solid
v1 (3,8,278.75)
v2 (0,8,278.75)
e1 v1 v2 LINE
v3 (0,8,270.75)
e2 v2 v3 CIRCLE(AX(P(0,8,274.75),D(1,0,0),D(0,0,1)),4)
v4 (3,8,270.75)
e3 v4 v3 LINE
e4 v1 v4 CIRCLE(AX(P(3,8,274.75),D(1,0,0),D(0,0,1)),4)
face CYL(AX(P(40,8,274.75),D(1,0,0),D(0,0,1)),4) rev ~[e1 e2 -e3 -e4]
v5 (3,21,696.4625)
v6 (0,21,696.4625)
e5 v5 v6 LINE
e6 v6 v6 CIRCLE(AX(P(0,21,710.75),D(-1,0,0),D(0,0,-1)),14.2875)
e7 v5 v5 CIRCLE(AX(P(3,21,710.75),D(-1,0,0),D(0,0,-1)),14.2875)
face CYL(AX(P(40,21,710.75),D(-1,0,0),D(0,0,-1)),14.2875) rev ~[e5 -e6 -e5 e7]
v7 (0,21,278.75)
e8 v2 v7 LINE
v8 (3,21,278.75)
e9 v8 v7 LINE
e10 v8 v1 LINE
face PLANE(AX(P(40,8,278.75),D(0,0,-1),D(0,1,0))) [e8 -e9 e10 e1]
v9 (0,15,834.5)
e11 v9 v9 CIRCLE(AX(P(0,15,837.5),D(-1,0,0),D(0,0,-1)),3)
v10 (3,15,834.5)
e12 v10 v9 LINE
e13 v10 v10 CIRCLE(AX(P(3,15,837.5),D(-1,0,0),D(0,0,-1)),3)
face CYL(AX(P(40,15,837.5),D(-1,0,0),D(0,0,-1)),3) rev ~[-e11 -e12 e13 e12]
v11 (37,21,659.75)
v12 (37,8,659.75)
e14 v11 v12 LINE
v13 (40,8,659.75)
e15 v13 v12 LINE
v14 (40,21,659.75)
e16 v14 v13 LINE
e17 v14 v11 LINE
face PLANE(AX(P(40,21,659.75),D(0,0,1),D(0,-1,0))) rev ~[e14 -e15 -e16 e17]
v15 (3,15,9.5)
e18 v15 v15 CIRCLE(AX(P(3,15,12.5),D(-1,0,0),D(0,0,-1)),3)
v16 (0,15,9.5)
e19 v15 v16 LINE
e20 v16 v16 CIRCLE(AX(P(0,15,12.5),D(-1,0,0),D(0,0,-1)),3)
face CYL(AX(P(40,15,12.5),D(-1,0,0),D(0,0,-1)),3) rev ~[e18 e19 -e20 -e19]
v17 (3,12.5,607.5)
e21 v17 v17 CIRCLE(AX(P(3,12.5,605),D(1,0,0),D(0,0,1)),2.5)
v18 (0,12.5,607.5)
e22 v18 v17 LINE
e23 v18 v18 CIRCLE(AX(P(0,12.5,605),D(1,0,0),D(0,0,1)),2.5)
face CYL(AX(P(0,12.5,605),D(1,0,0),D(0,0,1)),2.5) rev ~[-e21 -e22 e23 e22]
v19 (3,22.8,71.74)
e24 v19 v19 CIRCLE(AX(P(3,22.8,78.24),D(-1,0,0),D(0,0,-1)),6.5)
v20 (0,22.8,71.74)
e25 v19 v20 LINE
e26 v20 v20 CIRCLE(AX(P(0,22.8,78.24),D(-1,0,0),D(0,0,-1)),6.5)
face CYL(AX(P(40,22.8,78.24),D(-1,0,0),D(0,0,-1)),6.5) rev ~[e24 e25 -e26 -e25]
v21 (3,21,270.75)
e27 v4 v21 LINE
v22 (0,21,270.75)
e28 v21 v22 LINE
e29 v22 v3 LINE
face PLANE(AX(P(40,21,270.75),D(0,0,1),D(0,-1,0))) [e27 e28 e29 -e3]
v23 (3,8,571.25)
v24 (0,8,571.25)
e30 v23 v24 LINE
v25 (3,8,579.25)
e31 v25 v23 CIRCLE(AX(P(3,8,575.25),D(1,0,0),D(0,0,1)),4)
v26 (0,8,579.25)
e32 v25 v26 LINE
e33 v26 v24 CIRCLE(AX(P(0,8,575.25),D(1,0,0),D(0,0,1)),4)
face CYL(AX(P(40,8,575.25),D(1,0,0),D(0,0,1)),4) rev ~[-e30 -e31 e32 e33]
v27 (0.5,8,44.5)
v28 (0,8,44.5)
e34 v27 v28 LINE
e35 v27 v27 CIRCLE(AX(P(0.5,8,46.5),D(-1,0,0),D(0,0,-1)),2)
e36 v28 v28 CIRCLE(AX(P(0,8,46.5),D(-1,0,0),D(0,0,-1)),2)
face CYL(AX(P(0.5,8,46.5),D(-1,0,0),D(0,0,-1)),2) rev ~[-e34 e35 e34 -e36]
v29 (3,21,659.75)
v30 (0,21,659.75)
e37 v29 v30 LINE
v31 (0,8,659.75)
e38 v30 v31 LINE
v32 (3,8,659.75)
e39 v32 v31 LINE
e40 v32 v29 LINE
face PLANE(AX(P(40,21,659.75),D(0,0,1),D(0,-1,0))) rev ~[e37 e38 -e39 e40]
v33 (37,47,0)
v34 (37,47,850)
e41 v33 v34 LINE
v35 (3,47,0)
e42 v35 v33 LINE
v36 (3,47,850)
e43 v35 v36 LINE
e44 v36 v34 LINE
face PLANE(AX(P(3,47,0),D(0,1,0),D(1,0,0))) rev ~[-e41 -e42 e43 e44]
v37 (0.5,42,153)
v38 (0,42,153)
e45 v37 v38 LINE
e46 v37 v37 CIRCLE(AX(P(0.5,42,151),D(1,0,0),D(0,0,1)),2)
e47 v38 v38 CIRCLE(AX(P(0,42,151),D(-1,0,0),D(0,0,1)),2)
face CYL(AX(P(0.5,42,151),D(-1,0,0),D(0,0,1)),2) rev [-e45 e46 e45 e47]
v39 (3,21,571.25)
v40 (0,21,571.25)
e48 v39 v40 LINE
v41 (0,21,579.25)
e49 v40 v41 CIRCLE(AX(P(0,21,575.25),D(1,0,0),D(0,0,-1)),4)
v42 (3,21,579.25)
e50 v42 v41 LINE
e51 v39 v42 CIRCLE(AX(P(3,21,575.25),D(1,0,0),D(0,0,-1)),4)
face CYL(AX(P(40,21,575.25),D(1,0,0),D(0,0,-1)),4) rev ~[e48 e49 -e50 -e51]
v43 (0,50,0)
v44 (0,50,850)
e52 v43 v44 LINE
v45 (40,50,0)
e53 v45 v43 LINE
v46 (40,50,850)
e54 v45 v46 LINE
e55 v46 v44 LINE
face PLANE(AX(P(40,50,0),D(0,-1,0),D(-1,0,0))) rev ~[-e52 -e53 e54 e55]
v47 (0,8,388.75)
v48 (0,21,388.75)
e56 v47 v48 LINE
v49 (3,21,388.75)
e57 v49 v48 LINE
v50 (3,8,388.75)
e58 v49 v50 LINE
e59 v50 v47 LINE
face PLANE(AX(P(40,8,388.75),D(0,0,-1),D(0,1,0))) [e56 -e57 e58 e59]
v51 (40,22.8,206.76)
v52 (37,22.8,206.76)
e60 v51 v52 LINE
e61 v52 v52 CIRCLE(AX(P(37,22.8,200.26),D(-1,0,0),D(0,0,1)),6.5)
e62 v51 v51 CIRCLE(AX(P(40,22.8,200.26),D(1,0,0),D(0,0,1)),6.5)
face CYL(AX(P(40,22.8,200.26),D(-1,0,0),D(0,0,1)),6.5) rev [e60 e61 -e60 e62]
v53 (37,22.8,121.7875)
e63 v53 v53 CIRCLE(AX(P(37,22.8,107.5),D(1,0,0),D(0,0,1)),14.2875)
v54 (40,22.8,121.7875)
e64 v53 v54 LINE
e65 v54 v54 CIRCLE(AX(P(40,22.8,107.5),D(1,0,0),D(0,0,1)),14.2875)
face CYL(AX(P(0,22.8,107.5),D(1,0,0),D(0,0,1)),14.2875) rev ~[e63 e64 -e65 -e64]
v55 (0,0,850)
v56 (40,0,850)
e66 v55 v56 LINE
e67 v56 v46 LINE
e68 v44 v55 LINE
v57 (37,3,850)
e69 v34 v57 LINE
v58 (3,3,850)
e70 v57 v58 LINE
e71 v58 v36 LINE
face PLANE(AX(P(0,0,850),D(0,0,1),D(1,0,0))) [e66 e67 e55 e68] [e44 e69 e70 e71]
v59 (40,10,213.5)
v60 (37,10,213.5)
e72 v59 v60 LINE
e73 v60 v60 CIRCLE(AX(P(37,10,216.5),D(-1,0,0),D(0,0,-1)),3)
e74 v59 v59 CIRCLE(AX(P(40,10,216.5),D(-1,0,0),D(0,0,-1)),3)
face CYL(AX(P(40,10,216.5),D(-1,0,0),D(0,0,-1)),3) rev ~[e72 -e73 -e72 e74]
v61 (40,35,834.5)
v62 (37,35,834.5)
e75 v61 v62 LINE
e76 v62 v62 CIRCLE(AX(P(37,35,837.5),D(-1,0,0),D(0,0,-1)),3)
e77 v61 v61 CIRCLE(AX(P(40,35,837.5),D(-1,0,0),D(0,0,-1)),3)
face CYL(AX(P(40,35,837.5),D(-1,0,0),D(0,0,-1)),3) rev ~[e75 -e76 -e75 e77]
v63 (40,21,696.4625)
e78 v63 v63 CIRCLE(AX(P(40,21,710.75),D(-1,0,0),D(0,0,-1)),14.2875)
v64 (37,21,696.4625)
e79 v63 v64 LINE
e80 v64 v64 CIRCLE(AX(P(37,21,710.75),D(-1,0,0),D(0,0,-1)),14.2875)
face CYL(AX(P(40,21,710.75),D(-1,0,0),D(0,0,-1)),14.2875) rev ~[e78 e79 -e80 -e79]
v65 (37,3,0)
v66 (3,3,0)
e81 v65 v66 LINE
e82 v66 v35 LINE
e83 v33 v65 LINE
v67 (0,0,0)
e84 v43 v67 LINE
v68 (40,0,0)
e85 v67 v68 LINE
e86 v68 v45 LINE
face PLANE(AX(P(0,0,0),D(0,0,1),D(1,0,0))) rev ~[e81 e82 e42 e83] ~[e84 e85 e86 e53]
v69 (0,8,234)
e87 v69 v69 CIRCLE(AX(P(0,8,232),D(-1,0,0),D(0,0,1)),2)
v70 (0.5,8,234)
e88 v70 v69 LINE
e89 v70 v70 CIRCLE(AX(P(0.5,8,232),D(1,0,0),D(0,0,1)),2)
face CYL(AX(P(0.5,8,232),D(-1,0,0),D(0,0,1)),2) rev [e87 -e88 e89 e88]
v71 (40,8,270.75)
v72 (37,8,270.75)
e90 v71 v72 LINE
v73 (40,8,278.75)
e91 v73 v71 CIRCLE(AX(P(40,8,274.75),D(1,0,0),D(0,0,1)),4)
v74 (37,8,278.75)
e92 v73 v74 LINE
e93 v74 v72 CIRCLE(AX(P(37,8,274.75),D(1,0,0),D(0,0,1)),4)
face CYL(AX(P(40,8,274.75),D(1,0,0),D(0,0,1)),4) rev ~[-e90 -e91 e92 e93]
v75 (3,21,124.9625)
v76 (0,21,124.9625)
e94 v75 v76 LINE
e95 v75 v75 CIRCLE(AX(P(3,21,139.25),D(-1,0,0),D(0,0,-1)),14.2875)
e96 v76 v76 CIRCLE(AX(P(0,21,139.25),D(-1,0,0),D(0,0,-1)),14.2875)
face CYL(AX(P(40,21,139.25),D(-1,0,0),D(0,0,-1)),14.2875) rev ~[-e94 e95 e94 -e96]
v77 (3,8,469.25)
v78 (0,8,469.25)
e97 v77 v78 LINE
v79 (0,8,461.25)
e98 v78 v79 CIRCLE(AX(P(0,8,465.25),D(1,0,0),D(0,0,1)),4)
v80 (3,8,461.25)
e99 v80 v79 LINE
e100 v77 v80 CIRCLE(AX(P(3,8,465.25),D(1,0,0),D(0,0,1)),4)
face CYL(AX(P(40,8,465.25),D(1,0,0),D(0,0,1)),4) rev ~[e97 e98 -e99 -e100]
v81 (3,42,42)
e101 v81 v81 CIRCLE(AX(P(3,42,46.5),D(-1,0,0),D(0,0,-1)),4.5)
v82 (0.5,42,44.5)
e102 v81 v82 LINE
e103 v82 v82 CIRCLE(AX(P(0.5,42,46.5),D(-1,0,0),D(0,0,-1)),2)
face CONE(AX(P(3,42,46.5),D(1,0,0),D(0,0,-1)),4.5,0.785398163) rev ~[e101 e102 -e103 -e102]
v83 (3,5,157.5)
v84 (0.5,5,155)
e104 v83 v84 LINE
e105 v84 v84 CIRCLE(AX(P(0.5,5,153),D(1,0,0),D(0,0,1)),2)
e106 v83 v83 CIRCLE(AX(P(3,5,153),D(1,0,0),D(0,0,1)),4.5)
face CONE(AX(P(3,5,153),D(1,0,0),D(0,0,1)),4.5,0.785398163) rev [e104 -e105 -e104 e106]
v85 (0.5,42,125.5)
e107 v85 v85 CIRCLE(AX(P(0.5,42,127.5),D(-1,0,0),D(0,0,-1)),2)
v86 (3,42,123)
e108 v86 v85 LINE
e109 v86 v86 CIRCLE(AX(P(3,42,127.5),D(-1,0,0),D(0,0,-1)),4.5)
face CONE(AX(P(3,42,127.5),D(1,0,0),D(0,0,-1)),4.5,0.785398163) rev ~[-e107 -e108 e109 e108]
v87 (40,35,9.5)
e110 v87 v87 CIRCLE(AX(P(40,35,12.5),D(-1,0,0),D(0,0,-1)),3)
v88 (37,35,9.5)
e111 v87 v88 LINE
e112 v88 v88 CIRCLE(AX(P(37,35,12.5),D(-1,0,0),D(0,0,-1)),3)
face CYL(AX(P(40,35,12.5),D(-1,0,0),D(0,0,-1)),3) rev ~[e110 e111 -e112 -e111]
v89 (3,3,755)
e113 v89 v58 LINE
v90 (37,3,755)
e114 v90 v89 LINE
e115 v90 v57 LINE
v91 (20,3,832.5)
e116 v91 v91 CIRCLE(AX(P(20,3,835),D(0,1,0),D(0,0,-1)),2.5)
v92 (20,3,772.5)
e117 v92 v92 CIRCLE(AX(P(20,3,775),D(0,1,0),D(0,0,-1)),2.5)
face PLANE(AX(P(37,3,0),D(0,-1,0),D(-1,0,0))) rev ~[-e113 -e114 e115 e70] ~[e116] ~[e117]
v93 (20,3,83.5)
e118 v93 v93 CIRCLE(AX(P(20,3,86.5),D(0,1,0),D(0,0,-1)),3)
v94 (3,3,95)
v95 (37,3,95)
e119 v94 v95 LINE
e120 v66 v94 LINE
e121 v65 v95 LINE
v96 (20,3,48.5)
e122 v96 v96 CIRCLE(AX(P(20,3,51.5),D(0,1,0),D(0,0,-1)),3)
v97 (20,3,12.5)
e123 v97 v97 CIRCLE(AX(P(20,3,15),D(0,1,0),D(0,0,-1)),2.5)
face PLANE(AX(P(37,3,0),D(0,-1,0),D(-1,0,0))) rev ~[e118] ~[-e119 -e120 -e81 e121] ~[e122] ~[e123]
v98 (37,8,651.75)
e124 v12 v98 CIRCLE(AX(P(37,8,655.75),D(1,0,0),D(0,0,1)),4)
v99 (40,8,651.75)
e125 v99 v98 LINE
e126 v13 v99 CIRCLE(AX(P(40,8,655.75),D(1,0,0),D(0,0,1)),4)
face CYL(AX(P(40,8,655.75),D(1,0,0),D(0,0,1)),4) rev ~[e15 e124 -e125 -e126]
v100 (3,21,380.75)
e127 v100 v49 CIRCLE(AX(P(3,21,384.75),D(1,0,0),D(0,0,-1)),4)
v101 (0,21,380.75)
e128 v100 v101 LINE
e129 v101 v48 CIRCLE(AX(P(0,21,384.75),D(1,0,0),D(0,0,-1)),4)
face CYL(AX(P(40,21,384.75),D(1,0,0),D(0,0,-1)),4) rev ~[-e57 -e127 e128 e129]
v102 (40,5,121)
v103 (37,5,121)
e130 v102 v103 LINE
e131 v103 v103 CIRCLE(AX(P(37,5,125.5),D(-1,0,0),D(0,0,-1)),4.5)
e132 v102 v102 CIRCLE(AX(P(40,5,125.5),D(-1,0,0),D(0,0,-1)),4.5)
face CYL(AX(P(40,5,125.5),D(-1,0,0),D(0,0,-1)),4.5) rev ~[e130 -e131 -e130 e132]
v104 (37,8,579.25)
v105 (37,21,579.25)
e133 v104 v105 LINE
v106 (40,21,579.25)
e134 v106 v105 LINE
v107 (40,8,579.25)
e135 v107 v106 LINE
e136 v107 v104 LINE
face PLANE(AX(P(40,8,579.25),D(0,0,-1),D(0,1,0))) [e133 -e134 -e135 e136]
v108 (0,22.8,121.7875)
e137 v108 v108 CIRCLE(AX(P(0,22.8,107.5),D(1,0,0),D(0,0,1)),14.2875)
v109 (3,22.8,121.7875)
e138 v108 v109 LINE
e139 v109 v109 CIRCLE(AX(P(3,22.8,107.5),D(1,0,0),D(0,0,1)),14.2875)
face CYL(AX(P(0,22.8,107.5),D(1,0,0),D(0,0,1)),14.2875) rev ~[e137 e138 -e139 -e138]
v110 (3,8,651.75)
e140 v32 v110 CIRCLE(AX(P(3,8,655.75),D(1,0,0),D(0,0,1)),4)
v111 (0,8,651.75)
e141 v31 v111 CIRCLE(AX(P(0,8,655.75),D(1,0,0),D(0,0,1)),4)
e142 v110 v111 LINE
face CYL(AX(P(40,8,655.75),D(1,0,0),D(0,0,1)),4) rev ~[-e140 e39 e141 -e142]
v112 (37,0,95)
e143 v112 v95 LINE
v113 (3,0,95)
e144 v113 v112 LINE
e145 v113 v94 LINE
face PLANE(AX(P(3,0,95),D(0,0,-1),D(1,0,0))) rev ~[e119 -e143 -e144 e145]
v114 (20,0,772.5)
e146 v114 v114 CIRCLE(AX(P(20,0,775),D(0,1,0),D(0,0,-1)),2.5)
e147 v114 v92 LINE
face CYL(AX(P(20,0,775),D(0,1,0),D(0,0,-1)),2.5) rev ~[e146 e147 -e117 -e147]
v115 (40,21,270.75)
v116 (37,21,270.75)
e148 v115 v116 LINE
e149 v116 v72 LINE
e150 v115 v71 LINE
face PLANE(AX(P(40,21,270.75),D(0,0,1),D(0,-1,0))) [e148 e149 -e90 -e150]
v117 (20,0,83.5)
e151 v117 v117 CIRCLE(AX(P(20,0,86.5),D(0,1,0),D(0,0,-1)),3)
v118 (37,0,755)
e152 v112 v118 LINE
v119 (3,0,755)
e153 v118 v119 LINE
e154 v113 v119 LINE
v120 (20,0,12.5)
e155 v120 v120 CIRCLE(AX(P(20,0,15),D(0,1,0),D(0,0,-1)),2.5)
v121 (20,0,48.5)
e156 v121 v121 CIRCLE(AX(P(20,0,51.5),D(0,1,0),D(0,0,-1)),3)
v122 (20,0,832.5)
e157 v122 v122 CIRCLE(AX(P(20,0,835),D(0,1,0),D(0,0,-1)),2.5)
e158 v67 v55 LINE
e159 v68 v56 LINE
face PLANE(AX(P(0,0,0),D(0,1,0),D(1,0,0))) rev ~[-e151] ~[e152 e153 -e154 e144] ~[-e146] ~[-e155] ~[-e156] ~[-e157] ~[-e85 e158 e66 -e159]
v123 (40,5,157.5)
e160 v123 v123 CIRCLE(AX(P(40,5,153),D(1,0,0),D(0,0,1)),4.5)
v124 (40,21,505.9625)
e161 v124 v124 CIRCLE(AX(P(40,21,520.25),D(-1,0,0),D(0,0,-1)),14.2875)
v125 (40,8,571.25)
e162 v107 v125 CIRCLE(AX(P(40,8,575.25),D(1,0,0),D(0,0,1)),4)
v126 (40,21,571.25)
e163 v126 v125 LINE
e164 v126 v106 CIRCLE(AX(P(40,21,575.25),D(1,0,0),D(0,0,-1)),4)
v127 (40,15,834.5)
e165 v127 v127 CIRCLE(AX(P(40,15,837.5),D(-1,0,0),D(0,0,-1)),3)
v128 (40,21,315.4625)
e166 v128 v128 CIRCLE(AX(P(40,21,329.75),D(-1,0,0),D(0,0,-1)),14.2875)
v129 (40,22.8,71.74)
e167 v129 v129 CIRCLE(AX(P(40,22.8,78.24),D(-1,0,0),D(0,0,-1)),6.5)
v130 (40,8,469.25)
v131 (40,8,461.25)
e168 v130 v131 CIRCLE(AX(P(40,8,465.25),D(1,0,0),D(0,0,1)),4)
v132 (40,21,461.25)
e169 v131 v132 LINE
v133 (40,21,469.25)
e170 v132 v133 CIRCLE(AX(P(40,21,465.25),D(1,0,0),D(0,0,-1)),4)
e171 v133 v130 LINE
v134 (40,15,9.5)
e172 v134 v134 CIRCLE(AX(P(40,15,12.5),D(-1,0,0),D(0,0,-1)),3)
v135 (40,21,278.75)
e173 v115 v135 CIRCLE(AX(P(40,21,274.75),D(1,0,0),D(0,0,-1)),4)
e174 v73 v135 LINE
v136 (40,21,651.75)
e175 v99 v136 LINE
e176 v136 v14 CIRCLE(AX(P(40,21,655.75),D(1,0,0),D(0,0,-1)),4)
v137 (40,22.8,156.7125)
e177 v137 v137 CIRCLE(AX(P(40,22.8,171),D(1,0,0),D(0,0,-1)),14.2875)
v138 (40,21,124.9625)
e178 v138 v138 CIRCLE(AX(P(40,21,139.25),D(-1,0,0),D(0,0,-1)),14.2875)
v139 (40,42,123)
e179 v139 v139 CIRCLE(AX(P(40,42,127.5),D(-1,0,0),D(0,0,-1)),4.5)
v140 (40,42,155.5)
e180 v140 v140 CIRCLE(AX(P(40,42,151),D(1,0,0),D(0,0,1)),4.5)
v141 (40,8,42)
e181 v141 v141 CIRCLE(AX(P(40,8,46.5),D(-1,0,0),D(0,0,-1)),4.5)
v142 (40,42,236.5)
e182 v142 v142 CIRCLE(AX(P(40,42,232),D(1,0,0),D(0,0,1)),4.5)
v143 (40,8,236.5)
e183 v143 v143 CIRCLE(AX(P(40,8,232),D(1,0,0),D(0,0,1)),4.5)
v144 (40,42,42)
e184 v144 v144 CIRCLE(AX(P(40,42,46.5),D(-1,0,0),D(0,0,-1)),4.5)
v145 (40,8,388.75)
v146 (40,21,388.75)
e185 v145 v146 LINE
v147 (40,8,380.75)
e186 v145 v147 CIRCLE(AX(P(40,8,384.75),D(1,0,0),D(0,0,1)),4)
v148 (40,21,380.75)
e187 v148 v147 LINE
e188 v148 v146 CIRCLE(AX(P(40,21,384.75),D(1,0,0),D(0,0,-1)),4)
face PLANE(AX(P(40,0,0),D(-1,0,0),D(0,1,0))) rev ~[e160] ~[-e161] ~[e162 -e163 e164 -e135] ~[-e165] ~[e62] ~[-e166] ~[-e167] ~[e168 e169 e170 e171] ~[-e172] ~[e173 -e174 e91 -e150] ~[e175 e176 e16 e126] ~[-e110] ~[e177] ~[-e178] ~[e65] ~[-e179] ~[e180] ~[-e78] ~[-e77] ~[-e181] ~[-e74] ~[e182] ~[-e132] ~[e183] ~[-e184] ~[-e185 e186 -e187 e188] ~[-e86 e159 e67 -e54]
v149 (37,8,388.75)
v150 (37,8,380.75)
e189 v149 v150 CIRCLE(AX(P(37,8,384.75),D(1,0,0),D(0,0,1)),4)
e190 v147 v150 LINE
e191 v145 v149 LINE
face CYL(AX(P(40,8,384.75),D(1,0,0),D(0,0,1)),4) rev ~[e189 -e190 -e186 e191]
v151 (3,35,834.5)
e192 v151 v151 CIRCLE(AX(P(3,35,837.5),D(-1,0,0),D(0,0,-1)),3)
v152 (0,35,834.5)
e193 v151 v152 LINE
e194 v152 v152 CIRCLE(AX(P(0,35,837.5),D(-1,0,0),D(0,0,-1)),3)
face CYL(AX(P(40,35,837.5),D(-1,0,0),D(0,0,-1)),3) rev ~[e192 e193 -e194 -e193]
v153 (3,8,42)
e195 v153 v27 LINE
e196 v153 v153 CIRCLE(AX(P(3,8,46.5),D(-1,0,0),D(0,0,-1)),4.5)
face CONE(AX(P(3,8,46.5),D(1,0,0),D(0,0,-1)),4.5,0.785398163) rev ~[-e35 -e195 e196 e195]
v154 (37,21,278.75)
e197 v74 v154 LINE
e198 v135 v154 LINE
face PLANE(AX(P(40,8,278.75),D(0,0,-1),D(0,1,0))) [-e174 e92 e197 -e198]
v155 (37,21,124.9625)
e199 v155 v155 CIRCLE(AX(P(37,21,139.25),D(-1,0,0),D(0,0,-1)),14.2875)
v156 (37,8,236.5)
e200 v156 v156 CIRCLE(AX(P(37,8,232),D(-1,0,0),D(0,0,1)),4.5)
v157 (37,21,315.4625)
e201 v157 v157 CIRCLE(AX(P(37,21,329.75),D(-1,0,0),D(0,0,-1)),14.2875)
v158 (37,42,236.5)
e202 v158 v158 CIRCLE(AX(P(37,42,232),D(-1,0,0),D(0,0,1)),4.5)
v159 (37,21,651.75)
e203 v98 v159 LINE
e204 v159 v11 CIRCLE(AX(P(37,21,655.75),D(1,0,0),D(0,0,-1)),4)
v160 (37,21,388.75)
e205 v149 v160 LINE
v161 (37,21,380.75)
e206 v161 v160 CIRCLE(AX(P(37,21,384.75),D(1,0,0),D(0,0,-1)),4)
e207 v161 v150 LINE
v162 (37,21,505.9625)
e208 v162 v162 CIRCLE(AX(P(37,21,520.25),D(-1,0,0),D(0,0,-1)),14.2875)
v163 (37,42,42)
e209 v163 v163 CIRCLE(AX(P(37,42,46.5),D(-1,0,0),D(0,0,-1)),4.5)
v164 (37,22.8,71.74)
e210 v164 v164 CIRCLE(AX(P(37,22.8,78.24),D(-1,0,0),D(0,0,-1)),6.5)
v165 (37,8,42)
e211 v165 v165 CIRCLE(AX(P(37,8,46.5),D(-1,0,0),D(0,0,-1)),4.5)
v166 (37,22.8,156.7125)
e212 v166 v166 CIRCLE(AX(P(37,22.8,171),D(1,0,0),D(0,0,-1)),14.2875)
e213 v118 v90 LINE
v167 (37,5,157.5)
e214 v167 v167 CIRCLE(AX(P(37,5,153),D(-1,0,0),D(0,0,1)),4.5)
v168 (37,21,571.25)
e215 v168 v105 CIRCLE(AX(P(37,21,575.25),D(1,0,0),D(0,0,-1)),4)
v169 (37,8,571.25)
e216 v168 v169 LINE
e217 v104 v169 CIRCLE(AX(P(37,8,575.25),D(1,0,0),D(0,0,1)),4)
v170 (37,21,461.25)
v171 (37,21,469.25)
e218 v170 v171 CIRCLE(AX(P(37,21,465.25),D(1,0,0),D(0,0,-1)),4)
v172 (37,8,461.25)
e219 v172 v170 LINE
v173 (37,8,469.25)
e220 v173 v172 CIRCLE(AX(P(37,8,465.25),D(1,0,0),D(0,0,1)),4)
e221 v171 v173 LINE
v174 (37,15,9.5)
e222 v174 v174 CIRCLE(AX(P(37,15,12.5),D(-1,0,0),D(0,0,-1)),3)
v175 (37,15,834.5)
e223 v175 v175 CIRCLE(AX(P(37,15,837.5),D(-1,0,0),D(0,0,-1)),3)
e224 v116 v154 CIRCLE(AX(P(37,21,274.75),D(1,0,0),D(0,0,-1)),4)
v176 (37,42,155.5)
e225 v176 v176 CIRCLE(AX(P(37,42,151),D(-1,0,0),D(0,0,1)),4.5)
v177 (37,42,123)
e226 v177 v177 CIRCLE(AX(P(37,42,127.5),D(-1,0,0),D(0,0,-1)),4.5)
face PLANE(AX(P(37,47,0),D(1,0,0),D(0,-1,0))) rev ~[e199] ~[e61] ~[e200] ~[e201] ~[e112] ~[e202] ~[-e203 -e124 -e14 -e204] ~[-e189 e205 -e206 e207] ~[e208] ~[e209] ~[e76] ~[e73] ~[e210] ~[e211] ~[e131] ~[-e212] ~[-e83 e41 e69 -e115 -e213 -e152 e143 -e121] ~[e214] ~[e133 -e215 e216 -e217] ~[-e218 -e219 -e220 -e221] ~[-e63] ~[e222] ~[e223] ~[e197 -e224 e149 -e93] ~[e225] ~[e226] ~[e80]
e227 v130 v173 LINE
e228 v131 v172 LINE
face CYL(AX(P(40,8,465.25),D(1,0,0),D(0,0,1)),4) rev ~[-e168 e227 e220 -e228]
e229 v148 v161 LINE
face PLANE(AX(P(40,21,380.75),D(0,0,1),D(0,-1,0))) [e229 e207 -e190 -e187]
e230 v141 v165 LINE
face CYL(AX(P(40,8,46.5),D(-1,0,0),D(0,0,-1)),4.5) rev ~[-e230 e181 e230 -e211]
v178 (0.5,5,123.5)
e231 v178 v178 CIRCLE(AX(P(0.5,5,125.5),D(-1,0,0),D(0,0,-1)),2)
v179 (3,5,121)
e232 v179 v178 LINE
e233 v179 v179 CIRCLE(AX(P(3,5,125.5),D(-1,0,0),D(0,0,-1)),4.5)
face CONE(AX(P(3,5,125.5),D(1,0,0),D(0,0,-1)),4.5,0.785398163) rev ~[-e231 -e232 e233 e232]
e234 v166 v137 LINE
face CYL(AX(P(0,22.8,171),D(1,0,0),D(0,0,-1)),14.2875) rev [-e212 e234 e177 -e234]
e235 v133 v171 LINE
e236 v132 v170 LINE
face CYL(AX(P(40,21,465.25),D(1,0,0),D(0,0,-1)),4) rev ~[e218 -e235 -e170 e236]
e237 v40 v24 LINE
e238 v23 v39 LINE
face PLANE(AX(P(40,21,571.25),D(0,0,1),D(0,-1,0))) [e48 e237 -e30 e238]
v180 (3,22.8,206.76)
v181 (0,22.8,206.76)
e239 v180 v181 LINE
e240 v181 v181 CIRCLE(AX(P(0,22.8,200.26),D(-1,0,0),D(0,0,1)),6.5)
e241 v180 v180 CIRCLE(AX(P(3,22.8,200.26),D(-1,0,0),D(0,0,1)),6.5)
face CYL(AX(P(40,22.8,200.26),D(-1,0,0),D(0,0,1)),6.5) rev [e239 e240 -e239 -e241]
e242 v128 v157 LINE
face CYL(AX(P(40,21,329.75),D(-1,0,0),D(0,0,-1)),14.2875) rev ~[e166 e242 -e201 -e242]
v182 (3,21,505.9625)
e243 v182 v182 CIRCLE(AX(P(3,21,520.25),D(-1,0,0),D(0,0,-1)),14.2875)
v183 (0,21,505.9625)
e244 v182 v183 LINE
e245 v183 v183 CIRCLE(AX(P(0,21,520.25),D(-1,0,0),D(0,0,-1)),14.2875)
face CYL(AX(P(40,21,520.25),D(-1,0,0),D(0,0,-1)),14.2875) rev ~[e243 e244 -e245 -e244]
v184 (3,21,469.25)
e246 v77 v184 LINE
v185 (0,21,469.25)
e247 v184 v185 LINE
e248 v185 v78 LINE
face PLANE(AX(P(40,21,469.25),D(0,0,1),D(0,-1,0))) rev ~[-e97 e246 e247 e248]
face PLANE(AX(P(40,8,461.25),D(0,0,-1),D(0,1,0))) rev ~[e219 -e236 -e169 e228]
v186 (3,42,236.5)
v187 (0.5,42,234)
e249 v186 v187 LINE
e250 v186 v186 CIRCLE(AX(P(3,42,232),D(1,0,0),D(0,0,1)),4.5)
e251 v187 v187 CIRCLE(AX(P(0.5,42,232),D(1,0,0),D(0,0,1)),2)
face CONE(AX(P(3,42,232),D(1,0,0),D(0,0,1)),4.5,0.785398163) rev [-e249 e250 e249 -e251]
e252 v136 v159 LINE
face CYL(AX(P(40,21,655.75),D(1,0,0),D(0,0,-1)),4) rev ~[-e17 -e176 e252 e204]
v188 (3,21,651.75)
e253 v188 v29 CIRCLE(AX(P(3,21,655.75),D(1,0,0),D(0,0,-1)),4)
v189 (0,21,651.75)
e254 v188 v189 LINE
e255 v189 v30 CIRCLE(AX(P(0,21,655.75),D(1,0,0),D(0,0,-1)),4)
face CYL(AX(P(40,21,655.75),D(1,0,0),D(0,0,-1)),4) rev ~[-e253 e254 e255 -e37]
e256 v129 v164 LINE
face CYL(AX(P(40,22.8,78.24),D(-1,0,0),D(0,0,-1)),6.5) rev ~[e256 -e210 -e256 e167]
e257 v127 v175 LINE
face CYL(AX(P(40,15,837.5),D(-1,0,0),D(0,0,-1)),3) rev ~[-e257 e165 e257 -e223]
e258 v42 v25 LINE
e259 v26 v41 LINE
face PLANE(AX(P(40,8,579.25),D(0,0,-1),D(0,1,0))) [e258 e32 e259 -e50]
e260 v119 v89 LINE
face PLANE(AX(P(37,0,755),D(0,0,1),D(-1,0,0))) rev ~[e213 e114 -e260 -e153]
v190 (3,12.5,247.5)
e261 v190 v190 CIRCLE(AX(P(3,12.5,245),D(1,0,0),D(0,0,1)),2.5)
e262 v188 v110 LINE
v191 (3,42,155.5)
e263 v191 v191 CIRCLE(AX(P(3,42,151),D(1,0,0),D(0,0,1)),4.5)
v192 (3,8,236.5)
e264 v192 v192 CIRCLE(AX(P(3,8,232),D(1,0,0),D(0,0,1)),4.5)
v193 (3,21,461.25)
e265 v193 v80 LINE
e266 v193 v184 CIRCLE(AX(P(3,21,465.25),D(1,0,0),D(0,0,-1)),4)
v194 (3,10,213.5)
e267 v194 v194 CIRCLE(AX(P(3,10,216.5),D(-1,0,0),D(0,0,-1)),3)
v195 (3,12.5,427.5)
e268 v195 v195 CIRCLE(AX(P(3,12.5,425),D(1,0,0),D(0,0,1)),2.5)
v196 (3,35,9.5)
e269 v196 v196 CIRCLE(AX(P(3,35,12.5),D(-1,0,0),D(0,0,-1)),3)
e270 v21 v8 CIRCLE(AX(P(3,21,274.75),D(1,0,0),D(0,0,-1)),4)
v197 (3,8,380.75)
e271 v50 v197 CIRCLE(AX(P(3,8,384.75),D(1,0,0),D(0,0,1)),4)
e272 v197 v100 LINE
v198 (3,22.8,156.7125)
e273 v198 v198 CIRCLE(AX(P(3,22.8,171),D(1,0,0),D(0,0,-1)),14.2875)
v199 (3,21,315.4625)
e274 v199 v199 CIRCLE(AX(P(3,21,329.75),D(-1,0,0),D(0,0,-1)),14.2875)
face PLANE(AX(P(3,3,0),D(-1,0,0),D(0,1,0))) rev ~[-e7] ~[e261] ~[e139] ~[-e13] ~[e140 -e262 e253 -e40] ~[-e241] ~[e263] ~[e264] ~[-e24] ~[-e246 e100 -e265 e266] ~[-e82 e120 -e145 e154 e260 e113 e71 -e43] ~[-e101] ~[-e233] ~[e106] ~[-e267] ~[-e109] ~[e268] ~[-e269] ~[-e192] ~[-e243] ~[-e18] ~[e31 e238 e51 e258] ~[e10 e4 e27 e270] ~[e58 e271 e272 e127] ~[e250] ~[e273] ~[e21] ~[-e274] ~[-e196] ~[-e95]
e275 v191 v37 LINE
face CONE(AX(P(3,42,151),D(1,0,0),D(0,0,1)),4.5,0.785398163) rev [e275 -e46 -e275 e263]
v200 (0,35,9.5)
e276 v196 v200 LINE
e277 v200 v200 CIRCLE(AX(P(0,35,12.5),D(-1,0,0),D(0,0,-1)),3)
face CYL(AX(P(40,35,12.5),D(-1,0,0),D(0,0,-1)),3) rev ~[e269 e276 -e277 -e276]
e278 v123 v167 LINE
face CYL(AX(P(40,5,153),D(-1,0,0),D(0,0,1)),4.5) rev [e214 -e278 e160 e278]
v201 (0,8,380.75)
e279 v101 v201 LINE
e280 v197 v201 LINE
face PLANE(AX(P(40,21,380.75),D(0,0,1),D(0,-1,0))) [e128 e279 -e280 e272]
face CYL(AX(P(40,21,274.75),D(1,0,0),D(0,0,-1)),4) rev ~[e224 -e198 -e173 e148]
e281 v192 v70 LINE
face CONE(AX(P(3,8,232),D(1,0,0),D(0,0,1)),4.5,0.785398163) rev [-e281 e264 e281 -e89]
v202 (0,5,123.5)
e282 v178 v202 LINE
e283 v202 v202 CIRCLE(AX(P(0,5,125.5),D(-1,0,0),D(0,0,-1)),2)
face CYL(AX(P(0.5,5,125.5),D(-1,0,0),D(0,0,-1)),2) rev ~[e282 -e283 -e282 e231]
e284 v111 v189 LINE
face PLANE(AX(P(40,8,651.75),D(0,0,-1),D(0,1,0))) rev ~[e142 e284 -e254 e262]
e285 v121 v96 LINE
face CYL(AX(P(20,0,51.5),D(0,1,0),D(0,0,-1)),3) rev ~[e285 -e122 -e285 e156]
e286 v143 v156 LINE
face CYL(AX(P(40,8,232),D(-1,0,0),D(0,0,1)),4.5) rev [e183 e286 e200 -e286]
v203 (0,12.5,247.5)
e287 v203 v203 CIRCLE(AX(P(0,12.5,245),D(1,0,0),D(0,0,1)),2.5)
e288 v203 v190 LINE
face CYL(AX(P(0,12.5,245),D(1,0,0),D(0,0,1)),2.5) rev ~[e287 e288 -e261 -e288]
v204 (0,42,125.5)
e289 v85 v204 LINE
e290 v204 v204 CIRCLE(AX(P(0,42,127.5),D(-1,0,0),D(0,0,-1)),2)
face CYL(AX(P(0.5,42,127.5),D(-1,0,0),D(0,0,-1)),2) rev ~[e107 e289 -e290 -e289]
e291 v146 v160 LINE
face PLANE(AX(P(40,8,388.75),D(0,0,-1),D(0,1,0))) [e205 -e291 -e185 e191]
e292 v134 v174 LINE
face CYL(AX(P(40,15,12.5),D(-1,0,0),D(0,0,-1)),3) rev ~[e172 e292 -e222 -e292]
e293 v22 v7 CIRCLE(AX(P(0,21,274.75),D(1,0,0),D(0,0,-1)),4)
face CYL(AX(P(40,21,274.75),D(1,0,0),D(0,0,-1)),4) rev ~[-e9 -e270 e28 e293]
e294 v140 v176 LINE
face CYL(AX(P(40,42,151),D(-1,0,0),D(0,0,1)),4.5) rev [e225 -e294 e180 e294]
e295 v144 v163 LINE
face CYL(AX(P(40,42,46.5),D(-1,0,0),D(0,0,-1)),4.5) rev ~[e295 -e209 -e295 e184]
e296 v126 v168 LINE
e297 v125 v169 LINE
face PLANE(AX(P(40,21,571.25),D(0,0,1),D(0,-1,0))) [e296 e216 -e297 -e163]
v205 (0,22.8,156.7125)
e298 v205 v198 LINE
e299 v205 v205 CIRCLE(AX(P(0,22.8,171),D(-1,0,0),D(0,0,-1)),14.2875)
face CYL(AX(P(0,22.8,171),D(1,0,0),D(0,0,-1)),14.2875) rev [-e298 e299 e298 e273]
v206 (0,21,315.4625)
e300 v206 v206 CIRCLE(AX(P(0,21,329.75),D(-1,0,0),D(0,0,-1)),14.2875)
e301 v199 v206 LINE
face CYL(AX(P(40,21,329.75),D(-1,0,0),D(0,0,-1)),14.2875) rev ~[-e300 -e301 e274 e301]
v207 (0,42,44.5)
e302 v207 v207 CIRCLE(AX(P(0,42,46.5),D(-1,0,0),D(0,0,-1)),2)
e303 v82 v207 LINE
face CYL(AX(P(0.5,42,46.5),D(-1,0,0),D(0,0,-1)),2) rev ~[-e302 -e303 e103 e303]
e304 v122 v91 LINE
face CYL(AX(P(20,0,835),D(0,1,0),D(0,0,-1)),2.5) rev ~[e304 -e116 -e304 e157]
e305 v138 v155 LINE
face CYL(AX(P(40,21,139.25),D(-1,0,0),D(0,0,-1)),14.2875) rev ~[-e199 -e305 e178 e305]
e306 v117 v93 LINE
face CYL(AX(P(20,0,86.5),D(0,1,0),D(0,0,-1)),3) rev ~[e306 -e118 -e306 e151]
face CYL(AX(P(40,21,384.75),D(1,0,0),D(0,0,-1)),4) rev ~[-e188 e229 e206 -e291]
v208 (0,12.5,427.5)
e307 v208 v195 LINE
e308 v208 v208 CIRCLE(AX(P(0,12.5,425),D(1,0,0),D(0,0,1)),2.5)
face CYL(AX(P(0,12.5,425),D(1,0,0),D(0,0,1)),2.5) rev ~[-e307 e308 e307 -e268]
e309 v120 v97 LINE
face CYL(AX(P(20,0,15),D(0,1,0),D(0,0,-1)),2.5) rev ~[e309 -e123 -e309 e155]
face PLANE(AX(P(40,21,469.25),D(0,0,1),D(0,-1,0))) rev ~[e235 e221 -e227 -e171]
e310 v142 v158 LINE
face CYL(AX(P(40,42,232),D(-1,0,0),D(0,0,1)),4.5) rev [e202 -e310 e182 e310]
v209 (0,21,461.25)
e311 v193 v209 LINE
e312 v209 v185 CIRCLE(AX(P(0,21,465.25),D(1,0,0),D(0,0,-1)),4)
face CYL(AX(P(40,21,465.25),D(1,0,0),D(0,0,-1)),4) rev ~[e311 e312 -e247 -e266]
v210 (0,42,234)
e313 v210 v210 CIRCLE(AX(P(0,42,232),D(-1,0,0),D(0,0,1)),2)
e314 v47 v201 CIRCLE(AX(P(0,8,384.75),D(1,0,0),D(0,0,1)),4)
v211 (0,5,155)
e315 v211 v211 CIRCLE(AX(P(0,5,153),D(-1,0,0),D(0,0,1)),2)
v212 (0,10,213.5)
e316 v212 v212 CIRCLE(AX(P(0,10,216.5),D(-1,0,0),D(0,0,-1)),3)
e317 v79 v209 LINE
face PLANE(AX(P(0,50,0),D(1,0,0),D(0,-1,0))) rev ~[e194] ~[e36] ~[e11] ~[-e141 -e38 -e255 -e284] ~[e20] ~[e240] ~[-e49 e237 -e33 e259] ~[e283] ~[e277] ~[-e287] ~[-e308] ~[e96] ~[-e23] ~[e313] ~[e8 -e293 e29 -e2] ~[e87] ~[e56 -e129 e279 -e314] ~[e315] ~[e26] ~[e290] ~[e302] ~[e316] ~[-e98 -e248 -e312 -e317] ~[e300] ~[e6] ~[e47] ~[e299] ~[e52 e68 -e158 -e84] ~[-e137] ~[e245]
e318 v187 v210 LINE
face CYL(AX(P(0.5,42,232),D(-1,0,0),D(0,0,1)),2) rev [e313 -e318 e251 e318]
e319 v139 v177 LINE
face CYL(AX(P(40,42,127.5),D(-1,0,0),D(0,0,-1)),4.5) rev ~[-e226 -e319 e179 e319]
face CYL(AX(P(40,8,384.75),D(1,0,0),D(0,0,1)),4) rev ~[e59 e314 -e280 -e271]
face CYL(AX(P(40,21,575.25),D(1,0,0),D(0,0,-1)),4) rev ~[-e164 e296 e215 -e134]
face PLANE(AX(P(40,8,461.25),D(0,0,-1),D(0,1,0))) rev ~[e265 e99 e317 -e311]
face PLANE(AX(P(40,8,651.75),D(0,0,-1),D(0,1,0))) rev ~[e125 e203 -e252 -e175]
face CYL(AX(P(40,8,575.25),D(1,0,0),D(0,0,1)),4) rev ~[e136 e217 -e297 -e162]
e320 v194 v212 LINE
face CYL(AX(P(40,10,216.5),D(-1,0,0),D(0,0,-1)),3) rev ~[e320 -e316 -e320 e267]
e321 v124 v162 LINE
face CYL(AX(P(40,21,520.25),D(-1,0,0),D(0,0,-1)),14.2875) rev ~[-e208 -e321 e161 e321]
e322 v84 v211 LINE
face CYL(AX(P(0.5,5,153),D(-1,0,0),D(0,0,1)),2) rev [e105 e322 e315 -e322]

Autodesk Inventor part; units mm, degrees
ref_plane "YZ Plane" through (0, 0, 0) normal (1, 0, 0) x (0, 1, 0)
ref_plane "XZ Plane" through (0, 0, 0) normal (0, 1, 0) x (-1, 0, 0)
sketch "Sketch1" plane through (0, 0, 0) normal (0, 0, 1) x (1, 0, 0)
  line L0 (0, 0) -> (40, 0)
  line L1 (40, 0) -> (40, 50)
  line L2 (40, 50) -> (0, 50)
  line L3 (0, 50) -> (0, 0)
  line L4 (37, 47) -> (37, 3)
  line L5 (37, 3) -> (3, 3)
  line L6 (3, 3) -> (3, 47)
  line L7 (3, 47) -> (37, 47)
  dimension "d0" = 40
  dimension "d1" = 50
  dimension "d2" = 3
extrude "Extrusion1" add sketch "Sketch1" along normal blind 850
sketch "Sketch2" plane through (40, 0, 0) normal (1, 0, 0) x (0, 0, -1)
  line L0 (0, 0) -> (0, 50) projected
  line L1 (0, 50) -> (-850, 50) projected
  line L2 (-850, 0) -> (-850, 50) projected
  line L3 (0, 0) -> (-850, 0) projected
  point P0 (-710.75, 21)
  point P1 (-520.25, 21)
  point P2 (-329.75, 21)
  point P3 (-139.25, 21)
  dimension "d5" = 190.5
  dimension "d6" = 190.5
  dimension "d7" = 190.5
  dimension "d8" = 850
  dimension "d9" = 139.25
  dimension "d10" = 21
hole "Hole1" at (40, 21, 710.75) at (40, 21, 520.25) at (40, 21, 329.75) at (40, 21, 139.25) direction (-1, 0, 0) diameter 28.575 end through all
sketch "Sketch3" plane through (0, 0, 0) normal (0, -1, 0) x (1, 0, 0)
  line L0 (37, 0) -> (37, 850) projected
  line L1 (3, 0) -> (3, 850) projected
  line L2 (37, 755) -> (3, 755)
  line L3 (3, 755) -> (3, 95)
  line L4 (3, 95) -> (37, 95)
  line L5 (37, 95) -> (37, 755)
  line L6 (40, 725.0375) -> (40, 696.4625) projected
  line L7 (40, 0) -> (40, 850) projected
  line L8 (0, 850) -> (40, 850) projected
  line L9 (0, 0) -> (40, 0) projected
  point P0 (40, 710.75)
  point P1 (37, 95)
  point P2 (3, 755)
  dimension "d18" = 28.575
  dimension "d19" = 14.2875
  dimension "d22" = 95
  dimension "d23" = 95
extrude "Extrusion2" cut sketch "Sketch3" against normal blind 3 contours L4 L1 L2 L0
sketch "Sketch4" plane through (40, 0, 0) normal (1, 0, 0) x (0, 0, -1)
  line L0 (-842.1969, 39.5285) -> (-10.8553, 39.5285)
  line L1 (-10.8553, 39.5285) -> (-10.8553, 6.7172)
  line L2 (-10.8553, 6.7172) -> (-842.1969, 6.7172)
  line L3 (-842.1969, 6.7172) -> (-842.1969, 39.5285)
  point P0 (0, 0)
extrude "Extrusion3" [suppressed]
sketch "Sketch5" plane through (0, 0, 0) normal (-1, 0, 0) x (0, 0, 1)
  line L0 (0, 50) -> (0, 0) projected
  line L1 (0, 0) -> (850, 0) projected
  circle A0 centre (710.75, 21) radius 14.2875 projected
  circle A1 centre (139.25, 21) radius 14.2875 projected
  circle A2 centre (329.75, 21) radius 14.2875 projected
  circle A3 centre (520.25, 21) radius 14.2875 projected
  line L2 (0, 0) -> (0, 50) projected
  line L3 (0, 50) -> (850, 50) projected
  line L4 (850, 0) -> (850, 50) projected
  line L5 (0, 0) -> (850, 0) projected
  line L6 (139.25, 21) -> (107.5, 22.8)
  dimension "d37" = 31.801
  dimension "d39" = 107.5
  dimension "d41" = 22.8
hole "Hole2" at (0, 22.8, 107.5) direction (1, 0, 0) diameter 28.575 end through all
sketch "Sketch6" plane through (40, 0, 0) normal (1, 0, 0) x (0, 0, -1)
  circle A0 centre (-107.5, 22.8) radius 14.2875 projected
  circle A1 centre (-329.75, 21) radius 14.2875 projected
  circle A2 centre (-710.75, 21) radius 14.2875 projected
  circle A3 centre (-520.25, 21) radius 14.2875 projected
  circle A4 centre (-139.25, 21) radius 14.2875 projected
  line L0 (0, 3) -> (0, 47) projected
  line L1 (0, 47) -> (-850, 47) projected
  line L2 (-850, 3) -> (-850, 47) projected
  line L3 (-755, 3) -> (-850, 3) projected
  line L4 (-755, 0) -> (-755, 3) projected
  line L5 (-95, 0) -> (-755, 0) projected
  line L6 (-95, 0) -> (-95, 3) projected
  line L7 (0, 3) -> (-95, 3) projected
  point P0 (0, 0)
  point P1 (-78.24, 22.8)
  dimension "d42" = 29.26
hole "Hole3" at (40, 22.8, 78.24) direction (-1, 0, 0) diameter 13 end through all
sketch "Sketch9" plane through (40, 0, 0) normal (1, 0, 0) x (0, 0, -1)
  point P0 (0, 0)
  point P1 (-127.5, 42)
  point P2 (-46.5, 42)
  point P3 (-46.5, 8)
  point P4 (-125.5, 5)
  dimension "d78" = 5
  dimension "d79" = 8
  dimension "d80" = 42
  dimension "d81" = 46.5
  dimension "d82" = 81
  dimension "d83" = 79
hole "Hole7" at (40, 42, 127.5) at (40, 42, 46.5) at (40, 8, 46.5) at (40, 5, 125.5) direction (-1, 0, 0) diameter 9 depth 8 tip angle 118
sketch "Sketch10" plane through (3, 3, 0) normal (1, 0, 0) x (0, 0, -1)
  circle A0 centre (-125.5, 2) radius 4.5 projected
  circle A1 centre (-127.5, 39) radius 4.5 projected
  circle A2 centre (-46.5, 39) radius 4.5 projected
  circle A3 centre (-46.5, 5) radius 4.5 projected
  point P0 (0, -3)
hole "Hole8" at (3, 5, 125.5) at (3, 42, 127.5) at (3, 42, 46.5) at (3, 8, 46.5) direction (-1, 0, 0) diameter 4 end through all countersink diameter 9 countersink angle 90
sketch "Sketch11" plane through (0, 0, 0) normal (0, -1, 0) x (1, 0, 0)
  point P0 (0, 0)
  point P1 (20, 51.5)
  point P2 (20, 86.5)
  dimension "d98" = 35
  dimension "d99" = 51.5
  dimension "d100" = 20
hole "Hole9" at (20, 0, 51.5) at (20, 0, 86.5) direction (0, 1, 0) diameter 6 depth 8 tip angle 118
sketch "Sketch12" plane through (40, 0, 0) normal (1, 0, 0) x (0, 0, -1)
  point P0 (0, 0)
  point P1 (-12.5, 15)
  point P2 (-12.5, 35)
  point P3 (-837.5, 35)
  point P4 (-837.5, 15)
  dimension "d108" = 12.5
  dimension "d109" = 35
  dimension "d110" = 15
  dimension "d111" = 837.5
hole "Hole10" at (40, 15, 12.5) at (40, 35, 12.5) at (40, 35, 837.5) at (40, 15, 837.5) direction (-1, 0, 0) diameter 6 end through all
sketch "Sketch13" plane through (0, 0, 0) normal (-1, 0, 0) x (0, 0, 1)
  line L0 (0, 0) -> (850, 0) projected
  point P0 (245, 12.5)
  point P1 (425, 12.5)
  point P2 (605, 12.5)
  dimension "d119" = 180
  dimension "d120" = 180
  dimension "d121" = 12.5
  dimension "d122" = 425
hole "Hole11" at (0, 12.5, 245) at (0, 12.5, 425) at (0, 12.5, 605) direction (1, 0, 0) diameter 5 depth 8 tip angle 118
sketch "Sketch14" plane through (40, 0, 0) normal (1, 0, 0) x (0, 0, -1)
  line L0 (-655.75, 21) -> (-655.75, 8) construction
  line L1 (-659.75, 21) -> (-659.75, 8)
  line L2 (-651.75, 8) -> (-651.75, 21)
  arc A0 (-651.75, 21) -> (-659.75, 21) centre (-655.75, 21) ccw
  arc A1 (-659.75, 8) -> (-651.75, 8) centre (-655.75, 8) ccw
  line L3 (0, 0) -> (-850, 0) projected
  circle A2 centre (-837.5, 35) radius 3 projected
  circle A3 centre (-12.5, 15) radius 3 projected
  circle A4 centre (-12.5, 35) radius 3 projected
  circle A5 centre (-837.5, 15) radius 3 projected
  circle A6 centre (-46.5, 8) radius 4.5 projected
  circle A7 centre (-127.5, 42) radius 4.5 projected
  circle A8 centre (-46.5, 42) radius 4.5 projected
  circle A9 centre (-125.5, 5) radius 4.5 projected
  circle A10 centre (-78.24, 22.8) radius 6.5 projected
  circle A11 centre (-107.5, 22.8) radius 14.2875 projected
  circle A12 centre (-329.75, 21) radius 14.2875 projected
  circle A13 centre (-710.75, 21) radius 14.2875 projected
  circle A14 centre (-520.25, 21) radius 14.2875 projected
  circle A15 centre (-139.25, 21) radius 14.2875 projected
  line L4 (0, 0) -> (0, 50) projected
  line L5 (0, 50) -> (-850, 50) projected
  line L6 (-850, 0) -> (-850, 50) projected
  line L7 (0, 0) -> (-850, 0) projected
  line L8 (-575.25, 21) -> (-575.25, 8) construction
  line L9 (-571.25, 21) -> (-571.25, 8)
  line L10 (-579.25, 8) -> (-579.25, 21)
  arc A16 (-571.25, 21) -> (-579.25, 21) centre (-575.25, 21) ccw
  arc A17 (-579.25, 8) -> (-571.25, 8) centre (-575.25, 8) ccw
  line L11 (-465.25, 8) -> (-465.25, 21) construction
  line L12 (0, 47) -> (-850, 47) projected
  line L13 (-461.25, 8) -> (-461.25, 21)
  line L14 (-469.25, 21) -> (-469.25, 8)
  arc A18 (-469.25, 8) -> (-461.25, 8) centre (-465.25, 8) ccw
  arc A19 (-461.25, 21) -> (-469.25, 21) centre (-465.25, 21) ccw
  line L15 (-384.75, 8) -> (-384.75, 21) construction
  line L16 (-388.75, 8) -> (-388.75, 21)
  line L17 (-380.75, 21) -> (-380.75, 8)
  arc A20 (-388.75, 8) -> (-380.75, 8) centre (-384.75, 8) ccw
  arc A21 (-380.75, 21) -> (-388.75, 21) centre (-384.75, 21) ccw
  line L18 (-274.75, 21) -> (-274.75, 8) construction
  line L19 (-270.75, 21) -> (-270.75, 8)
  line L20 (-278.75, 8) -> (-278.75, 21)
  arc A22 (-270.75, 21) -> (-278.75, 21) centre (-274.75, 21) ccw
  arc A23 (-278.75, 8) -> (-270.75, 8) centre (-274.75, 8) ccw
  line L21 (-194.25, 21) -> (-194.25, 8) construction
  line L22 (-190.25, 21) -> (-190.25, 8)
  line L23 (-198.25, 8) -> (-198.25, 21)
  arc A24 (-190.25, 21) -> (-198.25, 21) centre (-194.25, 21) ccw
  arc A25 (-198.25, 8) -> (-190.25, 8) centre (-194.25, 8) ccw
  point P0 (-655.75, 14.5)
  point P1 (-575.25, 14.5)
  point P2 (-465.25, 14.5)
  point P3 (-384.75, 14.5)
  point P4 (-274.75, 14.5)
  point P5 (-194.25, 14.5)
  dimension "d130" = 8
  dimension "d131" = 8
  dimension "d132" = 21
  dimension "d133" = 55
  dimension "d134" = 55
  dimension "d135" = 55
  dimension "d136" = 55
  dimension "d137" = 55
  dimension "d138" = 55
extrude "Extrusion4" cut sketch "Sketch14" against normal through all contours A0 L2 A1 L1 | L9 A17 L10 A16 | A18 L14 A19 L13 | L16 A21 L17 A20 | L19 A23 L20 A22
ref_plane "Work Plane1" through (0, 0, 139.25) normal (0, 0, -1) x (-1, 0, 0)
mirror "Two Motors" about plane through (0, 0, 139.25) normal (0, 0, -1) of "Hole2", "Hole3", "Hole7", "Hole8"
sketch "Sketch16" plane through (40, 0, 0) normal (1, 0, 0) x (0, 0, -1)
  point P0 (0, 0)
  point P1 (-216.5, 10)
  dimension "d144" = 216.5
  dimension "d145" = 10
hole "Two Motors b" at (40, 10, 216.5) direction (-1, 0, 0) diameter 6 end through all
sketch "Sketch17" plane through (0, 0, 0) normal (0, -1, 0) x (1, 0, 0)
  line L0 (0, 850) -> (40, 850) projected
  point P0 (0, 0)
  point P1 (20, 835)
  point P2 (20, 775)
  point P3 (20, 15)
  dimension "d153" = 20
  dimension "d154" = 15
  dimension "d155" = 15
  dimension "d156" = 60
hole "Hole13" at (20, 0, 835) at (20, 0, 775) at (20, 0, 15) direction (0, 1, 0) diameter 5 depth 8 tip angle 118
equation "\"d6\" = d5"
equation "\"d7\" = d5"
equation "\"d9\" = -1.5 * d5 + 0.5 * d8"
equation "\"d19\" = 0.5 * d18"
equation "\"d120\" = d119"
equation "\"d134\" = d133"
equation "\"d135\" = d133"
equation "\"d136\" = d133"
equation "\"d137\" = d133"
equation "\"d138\" = d133"
properties part number "Left Frame"
